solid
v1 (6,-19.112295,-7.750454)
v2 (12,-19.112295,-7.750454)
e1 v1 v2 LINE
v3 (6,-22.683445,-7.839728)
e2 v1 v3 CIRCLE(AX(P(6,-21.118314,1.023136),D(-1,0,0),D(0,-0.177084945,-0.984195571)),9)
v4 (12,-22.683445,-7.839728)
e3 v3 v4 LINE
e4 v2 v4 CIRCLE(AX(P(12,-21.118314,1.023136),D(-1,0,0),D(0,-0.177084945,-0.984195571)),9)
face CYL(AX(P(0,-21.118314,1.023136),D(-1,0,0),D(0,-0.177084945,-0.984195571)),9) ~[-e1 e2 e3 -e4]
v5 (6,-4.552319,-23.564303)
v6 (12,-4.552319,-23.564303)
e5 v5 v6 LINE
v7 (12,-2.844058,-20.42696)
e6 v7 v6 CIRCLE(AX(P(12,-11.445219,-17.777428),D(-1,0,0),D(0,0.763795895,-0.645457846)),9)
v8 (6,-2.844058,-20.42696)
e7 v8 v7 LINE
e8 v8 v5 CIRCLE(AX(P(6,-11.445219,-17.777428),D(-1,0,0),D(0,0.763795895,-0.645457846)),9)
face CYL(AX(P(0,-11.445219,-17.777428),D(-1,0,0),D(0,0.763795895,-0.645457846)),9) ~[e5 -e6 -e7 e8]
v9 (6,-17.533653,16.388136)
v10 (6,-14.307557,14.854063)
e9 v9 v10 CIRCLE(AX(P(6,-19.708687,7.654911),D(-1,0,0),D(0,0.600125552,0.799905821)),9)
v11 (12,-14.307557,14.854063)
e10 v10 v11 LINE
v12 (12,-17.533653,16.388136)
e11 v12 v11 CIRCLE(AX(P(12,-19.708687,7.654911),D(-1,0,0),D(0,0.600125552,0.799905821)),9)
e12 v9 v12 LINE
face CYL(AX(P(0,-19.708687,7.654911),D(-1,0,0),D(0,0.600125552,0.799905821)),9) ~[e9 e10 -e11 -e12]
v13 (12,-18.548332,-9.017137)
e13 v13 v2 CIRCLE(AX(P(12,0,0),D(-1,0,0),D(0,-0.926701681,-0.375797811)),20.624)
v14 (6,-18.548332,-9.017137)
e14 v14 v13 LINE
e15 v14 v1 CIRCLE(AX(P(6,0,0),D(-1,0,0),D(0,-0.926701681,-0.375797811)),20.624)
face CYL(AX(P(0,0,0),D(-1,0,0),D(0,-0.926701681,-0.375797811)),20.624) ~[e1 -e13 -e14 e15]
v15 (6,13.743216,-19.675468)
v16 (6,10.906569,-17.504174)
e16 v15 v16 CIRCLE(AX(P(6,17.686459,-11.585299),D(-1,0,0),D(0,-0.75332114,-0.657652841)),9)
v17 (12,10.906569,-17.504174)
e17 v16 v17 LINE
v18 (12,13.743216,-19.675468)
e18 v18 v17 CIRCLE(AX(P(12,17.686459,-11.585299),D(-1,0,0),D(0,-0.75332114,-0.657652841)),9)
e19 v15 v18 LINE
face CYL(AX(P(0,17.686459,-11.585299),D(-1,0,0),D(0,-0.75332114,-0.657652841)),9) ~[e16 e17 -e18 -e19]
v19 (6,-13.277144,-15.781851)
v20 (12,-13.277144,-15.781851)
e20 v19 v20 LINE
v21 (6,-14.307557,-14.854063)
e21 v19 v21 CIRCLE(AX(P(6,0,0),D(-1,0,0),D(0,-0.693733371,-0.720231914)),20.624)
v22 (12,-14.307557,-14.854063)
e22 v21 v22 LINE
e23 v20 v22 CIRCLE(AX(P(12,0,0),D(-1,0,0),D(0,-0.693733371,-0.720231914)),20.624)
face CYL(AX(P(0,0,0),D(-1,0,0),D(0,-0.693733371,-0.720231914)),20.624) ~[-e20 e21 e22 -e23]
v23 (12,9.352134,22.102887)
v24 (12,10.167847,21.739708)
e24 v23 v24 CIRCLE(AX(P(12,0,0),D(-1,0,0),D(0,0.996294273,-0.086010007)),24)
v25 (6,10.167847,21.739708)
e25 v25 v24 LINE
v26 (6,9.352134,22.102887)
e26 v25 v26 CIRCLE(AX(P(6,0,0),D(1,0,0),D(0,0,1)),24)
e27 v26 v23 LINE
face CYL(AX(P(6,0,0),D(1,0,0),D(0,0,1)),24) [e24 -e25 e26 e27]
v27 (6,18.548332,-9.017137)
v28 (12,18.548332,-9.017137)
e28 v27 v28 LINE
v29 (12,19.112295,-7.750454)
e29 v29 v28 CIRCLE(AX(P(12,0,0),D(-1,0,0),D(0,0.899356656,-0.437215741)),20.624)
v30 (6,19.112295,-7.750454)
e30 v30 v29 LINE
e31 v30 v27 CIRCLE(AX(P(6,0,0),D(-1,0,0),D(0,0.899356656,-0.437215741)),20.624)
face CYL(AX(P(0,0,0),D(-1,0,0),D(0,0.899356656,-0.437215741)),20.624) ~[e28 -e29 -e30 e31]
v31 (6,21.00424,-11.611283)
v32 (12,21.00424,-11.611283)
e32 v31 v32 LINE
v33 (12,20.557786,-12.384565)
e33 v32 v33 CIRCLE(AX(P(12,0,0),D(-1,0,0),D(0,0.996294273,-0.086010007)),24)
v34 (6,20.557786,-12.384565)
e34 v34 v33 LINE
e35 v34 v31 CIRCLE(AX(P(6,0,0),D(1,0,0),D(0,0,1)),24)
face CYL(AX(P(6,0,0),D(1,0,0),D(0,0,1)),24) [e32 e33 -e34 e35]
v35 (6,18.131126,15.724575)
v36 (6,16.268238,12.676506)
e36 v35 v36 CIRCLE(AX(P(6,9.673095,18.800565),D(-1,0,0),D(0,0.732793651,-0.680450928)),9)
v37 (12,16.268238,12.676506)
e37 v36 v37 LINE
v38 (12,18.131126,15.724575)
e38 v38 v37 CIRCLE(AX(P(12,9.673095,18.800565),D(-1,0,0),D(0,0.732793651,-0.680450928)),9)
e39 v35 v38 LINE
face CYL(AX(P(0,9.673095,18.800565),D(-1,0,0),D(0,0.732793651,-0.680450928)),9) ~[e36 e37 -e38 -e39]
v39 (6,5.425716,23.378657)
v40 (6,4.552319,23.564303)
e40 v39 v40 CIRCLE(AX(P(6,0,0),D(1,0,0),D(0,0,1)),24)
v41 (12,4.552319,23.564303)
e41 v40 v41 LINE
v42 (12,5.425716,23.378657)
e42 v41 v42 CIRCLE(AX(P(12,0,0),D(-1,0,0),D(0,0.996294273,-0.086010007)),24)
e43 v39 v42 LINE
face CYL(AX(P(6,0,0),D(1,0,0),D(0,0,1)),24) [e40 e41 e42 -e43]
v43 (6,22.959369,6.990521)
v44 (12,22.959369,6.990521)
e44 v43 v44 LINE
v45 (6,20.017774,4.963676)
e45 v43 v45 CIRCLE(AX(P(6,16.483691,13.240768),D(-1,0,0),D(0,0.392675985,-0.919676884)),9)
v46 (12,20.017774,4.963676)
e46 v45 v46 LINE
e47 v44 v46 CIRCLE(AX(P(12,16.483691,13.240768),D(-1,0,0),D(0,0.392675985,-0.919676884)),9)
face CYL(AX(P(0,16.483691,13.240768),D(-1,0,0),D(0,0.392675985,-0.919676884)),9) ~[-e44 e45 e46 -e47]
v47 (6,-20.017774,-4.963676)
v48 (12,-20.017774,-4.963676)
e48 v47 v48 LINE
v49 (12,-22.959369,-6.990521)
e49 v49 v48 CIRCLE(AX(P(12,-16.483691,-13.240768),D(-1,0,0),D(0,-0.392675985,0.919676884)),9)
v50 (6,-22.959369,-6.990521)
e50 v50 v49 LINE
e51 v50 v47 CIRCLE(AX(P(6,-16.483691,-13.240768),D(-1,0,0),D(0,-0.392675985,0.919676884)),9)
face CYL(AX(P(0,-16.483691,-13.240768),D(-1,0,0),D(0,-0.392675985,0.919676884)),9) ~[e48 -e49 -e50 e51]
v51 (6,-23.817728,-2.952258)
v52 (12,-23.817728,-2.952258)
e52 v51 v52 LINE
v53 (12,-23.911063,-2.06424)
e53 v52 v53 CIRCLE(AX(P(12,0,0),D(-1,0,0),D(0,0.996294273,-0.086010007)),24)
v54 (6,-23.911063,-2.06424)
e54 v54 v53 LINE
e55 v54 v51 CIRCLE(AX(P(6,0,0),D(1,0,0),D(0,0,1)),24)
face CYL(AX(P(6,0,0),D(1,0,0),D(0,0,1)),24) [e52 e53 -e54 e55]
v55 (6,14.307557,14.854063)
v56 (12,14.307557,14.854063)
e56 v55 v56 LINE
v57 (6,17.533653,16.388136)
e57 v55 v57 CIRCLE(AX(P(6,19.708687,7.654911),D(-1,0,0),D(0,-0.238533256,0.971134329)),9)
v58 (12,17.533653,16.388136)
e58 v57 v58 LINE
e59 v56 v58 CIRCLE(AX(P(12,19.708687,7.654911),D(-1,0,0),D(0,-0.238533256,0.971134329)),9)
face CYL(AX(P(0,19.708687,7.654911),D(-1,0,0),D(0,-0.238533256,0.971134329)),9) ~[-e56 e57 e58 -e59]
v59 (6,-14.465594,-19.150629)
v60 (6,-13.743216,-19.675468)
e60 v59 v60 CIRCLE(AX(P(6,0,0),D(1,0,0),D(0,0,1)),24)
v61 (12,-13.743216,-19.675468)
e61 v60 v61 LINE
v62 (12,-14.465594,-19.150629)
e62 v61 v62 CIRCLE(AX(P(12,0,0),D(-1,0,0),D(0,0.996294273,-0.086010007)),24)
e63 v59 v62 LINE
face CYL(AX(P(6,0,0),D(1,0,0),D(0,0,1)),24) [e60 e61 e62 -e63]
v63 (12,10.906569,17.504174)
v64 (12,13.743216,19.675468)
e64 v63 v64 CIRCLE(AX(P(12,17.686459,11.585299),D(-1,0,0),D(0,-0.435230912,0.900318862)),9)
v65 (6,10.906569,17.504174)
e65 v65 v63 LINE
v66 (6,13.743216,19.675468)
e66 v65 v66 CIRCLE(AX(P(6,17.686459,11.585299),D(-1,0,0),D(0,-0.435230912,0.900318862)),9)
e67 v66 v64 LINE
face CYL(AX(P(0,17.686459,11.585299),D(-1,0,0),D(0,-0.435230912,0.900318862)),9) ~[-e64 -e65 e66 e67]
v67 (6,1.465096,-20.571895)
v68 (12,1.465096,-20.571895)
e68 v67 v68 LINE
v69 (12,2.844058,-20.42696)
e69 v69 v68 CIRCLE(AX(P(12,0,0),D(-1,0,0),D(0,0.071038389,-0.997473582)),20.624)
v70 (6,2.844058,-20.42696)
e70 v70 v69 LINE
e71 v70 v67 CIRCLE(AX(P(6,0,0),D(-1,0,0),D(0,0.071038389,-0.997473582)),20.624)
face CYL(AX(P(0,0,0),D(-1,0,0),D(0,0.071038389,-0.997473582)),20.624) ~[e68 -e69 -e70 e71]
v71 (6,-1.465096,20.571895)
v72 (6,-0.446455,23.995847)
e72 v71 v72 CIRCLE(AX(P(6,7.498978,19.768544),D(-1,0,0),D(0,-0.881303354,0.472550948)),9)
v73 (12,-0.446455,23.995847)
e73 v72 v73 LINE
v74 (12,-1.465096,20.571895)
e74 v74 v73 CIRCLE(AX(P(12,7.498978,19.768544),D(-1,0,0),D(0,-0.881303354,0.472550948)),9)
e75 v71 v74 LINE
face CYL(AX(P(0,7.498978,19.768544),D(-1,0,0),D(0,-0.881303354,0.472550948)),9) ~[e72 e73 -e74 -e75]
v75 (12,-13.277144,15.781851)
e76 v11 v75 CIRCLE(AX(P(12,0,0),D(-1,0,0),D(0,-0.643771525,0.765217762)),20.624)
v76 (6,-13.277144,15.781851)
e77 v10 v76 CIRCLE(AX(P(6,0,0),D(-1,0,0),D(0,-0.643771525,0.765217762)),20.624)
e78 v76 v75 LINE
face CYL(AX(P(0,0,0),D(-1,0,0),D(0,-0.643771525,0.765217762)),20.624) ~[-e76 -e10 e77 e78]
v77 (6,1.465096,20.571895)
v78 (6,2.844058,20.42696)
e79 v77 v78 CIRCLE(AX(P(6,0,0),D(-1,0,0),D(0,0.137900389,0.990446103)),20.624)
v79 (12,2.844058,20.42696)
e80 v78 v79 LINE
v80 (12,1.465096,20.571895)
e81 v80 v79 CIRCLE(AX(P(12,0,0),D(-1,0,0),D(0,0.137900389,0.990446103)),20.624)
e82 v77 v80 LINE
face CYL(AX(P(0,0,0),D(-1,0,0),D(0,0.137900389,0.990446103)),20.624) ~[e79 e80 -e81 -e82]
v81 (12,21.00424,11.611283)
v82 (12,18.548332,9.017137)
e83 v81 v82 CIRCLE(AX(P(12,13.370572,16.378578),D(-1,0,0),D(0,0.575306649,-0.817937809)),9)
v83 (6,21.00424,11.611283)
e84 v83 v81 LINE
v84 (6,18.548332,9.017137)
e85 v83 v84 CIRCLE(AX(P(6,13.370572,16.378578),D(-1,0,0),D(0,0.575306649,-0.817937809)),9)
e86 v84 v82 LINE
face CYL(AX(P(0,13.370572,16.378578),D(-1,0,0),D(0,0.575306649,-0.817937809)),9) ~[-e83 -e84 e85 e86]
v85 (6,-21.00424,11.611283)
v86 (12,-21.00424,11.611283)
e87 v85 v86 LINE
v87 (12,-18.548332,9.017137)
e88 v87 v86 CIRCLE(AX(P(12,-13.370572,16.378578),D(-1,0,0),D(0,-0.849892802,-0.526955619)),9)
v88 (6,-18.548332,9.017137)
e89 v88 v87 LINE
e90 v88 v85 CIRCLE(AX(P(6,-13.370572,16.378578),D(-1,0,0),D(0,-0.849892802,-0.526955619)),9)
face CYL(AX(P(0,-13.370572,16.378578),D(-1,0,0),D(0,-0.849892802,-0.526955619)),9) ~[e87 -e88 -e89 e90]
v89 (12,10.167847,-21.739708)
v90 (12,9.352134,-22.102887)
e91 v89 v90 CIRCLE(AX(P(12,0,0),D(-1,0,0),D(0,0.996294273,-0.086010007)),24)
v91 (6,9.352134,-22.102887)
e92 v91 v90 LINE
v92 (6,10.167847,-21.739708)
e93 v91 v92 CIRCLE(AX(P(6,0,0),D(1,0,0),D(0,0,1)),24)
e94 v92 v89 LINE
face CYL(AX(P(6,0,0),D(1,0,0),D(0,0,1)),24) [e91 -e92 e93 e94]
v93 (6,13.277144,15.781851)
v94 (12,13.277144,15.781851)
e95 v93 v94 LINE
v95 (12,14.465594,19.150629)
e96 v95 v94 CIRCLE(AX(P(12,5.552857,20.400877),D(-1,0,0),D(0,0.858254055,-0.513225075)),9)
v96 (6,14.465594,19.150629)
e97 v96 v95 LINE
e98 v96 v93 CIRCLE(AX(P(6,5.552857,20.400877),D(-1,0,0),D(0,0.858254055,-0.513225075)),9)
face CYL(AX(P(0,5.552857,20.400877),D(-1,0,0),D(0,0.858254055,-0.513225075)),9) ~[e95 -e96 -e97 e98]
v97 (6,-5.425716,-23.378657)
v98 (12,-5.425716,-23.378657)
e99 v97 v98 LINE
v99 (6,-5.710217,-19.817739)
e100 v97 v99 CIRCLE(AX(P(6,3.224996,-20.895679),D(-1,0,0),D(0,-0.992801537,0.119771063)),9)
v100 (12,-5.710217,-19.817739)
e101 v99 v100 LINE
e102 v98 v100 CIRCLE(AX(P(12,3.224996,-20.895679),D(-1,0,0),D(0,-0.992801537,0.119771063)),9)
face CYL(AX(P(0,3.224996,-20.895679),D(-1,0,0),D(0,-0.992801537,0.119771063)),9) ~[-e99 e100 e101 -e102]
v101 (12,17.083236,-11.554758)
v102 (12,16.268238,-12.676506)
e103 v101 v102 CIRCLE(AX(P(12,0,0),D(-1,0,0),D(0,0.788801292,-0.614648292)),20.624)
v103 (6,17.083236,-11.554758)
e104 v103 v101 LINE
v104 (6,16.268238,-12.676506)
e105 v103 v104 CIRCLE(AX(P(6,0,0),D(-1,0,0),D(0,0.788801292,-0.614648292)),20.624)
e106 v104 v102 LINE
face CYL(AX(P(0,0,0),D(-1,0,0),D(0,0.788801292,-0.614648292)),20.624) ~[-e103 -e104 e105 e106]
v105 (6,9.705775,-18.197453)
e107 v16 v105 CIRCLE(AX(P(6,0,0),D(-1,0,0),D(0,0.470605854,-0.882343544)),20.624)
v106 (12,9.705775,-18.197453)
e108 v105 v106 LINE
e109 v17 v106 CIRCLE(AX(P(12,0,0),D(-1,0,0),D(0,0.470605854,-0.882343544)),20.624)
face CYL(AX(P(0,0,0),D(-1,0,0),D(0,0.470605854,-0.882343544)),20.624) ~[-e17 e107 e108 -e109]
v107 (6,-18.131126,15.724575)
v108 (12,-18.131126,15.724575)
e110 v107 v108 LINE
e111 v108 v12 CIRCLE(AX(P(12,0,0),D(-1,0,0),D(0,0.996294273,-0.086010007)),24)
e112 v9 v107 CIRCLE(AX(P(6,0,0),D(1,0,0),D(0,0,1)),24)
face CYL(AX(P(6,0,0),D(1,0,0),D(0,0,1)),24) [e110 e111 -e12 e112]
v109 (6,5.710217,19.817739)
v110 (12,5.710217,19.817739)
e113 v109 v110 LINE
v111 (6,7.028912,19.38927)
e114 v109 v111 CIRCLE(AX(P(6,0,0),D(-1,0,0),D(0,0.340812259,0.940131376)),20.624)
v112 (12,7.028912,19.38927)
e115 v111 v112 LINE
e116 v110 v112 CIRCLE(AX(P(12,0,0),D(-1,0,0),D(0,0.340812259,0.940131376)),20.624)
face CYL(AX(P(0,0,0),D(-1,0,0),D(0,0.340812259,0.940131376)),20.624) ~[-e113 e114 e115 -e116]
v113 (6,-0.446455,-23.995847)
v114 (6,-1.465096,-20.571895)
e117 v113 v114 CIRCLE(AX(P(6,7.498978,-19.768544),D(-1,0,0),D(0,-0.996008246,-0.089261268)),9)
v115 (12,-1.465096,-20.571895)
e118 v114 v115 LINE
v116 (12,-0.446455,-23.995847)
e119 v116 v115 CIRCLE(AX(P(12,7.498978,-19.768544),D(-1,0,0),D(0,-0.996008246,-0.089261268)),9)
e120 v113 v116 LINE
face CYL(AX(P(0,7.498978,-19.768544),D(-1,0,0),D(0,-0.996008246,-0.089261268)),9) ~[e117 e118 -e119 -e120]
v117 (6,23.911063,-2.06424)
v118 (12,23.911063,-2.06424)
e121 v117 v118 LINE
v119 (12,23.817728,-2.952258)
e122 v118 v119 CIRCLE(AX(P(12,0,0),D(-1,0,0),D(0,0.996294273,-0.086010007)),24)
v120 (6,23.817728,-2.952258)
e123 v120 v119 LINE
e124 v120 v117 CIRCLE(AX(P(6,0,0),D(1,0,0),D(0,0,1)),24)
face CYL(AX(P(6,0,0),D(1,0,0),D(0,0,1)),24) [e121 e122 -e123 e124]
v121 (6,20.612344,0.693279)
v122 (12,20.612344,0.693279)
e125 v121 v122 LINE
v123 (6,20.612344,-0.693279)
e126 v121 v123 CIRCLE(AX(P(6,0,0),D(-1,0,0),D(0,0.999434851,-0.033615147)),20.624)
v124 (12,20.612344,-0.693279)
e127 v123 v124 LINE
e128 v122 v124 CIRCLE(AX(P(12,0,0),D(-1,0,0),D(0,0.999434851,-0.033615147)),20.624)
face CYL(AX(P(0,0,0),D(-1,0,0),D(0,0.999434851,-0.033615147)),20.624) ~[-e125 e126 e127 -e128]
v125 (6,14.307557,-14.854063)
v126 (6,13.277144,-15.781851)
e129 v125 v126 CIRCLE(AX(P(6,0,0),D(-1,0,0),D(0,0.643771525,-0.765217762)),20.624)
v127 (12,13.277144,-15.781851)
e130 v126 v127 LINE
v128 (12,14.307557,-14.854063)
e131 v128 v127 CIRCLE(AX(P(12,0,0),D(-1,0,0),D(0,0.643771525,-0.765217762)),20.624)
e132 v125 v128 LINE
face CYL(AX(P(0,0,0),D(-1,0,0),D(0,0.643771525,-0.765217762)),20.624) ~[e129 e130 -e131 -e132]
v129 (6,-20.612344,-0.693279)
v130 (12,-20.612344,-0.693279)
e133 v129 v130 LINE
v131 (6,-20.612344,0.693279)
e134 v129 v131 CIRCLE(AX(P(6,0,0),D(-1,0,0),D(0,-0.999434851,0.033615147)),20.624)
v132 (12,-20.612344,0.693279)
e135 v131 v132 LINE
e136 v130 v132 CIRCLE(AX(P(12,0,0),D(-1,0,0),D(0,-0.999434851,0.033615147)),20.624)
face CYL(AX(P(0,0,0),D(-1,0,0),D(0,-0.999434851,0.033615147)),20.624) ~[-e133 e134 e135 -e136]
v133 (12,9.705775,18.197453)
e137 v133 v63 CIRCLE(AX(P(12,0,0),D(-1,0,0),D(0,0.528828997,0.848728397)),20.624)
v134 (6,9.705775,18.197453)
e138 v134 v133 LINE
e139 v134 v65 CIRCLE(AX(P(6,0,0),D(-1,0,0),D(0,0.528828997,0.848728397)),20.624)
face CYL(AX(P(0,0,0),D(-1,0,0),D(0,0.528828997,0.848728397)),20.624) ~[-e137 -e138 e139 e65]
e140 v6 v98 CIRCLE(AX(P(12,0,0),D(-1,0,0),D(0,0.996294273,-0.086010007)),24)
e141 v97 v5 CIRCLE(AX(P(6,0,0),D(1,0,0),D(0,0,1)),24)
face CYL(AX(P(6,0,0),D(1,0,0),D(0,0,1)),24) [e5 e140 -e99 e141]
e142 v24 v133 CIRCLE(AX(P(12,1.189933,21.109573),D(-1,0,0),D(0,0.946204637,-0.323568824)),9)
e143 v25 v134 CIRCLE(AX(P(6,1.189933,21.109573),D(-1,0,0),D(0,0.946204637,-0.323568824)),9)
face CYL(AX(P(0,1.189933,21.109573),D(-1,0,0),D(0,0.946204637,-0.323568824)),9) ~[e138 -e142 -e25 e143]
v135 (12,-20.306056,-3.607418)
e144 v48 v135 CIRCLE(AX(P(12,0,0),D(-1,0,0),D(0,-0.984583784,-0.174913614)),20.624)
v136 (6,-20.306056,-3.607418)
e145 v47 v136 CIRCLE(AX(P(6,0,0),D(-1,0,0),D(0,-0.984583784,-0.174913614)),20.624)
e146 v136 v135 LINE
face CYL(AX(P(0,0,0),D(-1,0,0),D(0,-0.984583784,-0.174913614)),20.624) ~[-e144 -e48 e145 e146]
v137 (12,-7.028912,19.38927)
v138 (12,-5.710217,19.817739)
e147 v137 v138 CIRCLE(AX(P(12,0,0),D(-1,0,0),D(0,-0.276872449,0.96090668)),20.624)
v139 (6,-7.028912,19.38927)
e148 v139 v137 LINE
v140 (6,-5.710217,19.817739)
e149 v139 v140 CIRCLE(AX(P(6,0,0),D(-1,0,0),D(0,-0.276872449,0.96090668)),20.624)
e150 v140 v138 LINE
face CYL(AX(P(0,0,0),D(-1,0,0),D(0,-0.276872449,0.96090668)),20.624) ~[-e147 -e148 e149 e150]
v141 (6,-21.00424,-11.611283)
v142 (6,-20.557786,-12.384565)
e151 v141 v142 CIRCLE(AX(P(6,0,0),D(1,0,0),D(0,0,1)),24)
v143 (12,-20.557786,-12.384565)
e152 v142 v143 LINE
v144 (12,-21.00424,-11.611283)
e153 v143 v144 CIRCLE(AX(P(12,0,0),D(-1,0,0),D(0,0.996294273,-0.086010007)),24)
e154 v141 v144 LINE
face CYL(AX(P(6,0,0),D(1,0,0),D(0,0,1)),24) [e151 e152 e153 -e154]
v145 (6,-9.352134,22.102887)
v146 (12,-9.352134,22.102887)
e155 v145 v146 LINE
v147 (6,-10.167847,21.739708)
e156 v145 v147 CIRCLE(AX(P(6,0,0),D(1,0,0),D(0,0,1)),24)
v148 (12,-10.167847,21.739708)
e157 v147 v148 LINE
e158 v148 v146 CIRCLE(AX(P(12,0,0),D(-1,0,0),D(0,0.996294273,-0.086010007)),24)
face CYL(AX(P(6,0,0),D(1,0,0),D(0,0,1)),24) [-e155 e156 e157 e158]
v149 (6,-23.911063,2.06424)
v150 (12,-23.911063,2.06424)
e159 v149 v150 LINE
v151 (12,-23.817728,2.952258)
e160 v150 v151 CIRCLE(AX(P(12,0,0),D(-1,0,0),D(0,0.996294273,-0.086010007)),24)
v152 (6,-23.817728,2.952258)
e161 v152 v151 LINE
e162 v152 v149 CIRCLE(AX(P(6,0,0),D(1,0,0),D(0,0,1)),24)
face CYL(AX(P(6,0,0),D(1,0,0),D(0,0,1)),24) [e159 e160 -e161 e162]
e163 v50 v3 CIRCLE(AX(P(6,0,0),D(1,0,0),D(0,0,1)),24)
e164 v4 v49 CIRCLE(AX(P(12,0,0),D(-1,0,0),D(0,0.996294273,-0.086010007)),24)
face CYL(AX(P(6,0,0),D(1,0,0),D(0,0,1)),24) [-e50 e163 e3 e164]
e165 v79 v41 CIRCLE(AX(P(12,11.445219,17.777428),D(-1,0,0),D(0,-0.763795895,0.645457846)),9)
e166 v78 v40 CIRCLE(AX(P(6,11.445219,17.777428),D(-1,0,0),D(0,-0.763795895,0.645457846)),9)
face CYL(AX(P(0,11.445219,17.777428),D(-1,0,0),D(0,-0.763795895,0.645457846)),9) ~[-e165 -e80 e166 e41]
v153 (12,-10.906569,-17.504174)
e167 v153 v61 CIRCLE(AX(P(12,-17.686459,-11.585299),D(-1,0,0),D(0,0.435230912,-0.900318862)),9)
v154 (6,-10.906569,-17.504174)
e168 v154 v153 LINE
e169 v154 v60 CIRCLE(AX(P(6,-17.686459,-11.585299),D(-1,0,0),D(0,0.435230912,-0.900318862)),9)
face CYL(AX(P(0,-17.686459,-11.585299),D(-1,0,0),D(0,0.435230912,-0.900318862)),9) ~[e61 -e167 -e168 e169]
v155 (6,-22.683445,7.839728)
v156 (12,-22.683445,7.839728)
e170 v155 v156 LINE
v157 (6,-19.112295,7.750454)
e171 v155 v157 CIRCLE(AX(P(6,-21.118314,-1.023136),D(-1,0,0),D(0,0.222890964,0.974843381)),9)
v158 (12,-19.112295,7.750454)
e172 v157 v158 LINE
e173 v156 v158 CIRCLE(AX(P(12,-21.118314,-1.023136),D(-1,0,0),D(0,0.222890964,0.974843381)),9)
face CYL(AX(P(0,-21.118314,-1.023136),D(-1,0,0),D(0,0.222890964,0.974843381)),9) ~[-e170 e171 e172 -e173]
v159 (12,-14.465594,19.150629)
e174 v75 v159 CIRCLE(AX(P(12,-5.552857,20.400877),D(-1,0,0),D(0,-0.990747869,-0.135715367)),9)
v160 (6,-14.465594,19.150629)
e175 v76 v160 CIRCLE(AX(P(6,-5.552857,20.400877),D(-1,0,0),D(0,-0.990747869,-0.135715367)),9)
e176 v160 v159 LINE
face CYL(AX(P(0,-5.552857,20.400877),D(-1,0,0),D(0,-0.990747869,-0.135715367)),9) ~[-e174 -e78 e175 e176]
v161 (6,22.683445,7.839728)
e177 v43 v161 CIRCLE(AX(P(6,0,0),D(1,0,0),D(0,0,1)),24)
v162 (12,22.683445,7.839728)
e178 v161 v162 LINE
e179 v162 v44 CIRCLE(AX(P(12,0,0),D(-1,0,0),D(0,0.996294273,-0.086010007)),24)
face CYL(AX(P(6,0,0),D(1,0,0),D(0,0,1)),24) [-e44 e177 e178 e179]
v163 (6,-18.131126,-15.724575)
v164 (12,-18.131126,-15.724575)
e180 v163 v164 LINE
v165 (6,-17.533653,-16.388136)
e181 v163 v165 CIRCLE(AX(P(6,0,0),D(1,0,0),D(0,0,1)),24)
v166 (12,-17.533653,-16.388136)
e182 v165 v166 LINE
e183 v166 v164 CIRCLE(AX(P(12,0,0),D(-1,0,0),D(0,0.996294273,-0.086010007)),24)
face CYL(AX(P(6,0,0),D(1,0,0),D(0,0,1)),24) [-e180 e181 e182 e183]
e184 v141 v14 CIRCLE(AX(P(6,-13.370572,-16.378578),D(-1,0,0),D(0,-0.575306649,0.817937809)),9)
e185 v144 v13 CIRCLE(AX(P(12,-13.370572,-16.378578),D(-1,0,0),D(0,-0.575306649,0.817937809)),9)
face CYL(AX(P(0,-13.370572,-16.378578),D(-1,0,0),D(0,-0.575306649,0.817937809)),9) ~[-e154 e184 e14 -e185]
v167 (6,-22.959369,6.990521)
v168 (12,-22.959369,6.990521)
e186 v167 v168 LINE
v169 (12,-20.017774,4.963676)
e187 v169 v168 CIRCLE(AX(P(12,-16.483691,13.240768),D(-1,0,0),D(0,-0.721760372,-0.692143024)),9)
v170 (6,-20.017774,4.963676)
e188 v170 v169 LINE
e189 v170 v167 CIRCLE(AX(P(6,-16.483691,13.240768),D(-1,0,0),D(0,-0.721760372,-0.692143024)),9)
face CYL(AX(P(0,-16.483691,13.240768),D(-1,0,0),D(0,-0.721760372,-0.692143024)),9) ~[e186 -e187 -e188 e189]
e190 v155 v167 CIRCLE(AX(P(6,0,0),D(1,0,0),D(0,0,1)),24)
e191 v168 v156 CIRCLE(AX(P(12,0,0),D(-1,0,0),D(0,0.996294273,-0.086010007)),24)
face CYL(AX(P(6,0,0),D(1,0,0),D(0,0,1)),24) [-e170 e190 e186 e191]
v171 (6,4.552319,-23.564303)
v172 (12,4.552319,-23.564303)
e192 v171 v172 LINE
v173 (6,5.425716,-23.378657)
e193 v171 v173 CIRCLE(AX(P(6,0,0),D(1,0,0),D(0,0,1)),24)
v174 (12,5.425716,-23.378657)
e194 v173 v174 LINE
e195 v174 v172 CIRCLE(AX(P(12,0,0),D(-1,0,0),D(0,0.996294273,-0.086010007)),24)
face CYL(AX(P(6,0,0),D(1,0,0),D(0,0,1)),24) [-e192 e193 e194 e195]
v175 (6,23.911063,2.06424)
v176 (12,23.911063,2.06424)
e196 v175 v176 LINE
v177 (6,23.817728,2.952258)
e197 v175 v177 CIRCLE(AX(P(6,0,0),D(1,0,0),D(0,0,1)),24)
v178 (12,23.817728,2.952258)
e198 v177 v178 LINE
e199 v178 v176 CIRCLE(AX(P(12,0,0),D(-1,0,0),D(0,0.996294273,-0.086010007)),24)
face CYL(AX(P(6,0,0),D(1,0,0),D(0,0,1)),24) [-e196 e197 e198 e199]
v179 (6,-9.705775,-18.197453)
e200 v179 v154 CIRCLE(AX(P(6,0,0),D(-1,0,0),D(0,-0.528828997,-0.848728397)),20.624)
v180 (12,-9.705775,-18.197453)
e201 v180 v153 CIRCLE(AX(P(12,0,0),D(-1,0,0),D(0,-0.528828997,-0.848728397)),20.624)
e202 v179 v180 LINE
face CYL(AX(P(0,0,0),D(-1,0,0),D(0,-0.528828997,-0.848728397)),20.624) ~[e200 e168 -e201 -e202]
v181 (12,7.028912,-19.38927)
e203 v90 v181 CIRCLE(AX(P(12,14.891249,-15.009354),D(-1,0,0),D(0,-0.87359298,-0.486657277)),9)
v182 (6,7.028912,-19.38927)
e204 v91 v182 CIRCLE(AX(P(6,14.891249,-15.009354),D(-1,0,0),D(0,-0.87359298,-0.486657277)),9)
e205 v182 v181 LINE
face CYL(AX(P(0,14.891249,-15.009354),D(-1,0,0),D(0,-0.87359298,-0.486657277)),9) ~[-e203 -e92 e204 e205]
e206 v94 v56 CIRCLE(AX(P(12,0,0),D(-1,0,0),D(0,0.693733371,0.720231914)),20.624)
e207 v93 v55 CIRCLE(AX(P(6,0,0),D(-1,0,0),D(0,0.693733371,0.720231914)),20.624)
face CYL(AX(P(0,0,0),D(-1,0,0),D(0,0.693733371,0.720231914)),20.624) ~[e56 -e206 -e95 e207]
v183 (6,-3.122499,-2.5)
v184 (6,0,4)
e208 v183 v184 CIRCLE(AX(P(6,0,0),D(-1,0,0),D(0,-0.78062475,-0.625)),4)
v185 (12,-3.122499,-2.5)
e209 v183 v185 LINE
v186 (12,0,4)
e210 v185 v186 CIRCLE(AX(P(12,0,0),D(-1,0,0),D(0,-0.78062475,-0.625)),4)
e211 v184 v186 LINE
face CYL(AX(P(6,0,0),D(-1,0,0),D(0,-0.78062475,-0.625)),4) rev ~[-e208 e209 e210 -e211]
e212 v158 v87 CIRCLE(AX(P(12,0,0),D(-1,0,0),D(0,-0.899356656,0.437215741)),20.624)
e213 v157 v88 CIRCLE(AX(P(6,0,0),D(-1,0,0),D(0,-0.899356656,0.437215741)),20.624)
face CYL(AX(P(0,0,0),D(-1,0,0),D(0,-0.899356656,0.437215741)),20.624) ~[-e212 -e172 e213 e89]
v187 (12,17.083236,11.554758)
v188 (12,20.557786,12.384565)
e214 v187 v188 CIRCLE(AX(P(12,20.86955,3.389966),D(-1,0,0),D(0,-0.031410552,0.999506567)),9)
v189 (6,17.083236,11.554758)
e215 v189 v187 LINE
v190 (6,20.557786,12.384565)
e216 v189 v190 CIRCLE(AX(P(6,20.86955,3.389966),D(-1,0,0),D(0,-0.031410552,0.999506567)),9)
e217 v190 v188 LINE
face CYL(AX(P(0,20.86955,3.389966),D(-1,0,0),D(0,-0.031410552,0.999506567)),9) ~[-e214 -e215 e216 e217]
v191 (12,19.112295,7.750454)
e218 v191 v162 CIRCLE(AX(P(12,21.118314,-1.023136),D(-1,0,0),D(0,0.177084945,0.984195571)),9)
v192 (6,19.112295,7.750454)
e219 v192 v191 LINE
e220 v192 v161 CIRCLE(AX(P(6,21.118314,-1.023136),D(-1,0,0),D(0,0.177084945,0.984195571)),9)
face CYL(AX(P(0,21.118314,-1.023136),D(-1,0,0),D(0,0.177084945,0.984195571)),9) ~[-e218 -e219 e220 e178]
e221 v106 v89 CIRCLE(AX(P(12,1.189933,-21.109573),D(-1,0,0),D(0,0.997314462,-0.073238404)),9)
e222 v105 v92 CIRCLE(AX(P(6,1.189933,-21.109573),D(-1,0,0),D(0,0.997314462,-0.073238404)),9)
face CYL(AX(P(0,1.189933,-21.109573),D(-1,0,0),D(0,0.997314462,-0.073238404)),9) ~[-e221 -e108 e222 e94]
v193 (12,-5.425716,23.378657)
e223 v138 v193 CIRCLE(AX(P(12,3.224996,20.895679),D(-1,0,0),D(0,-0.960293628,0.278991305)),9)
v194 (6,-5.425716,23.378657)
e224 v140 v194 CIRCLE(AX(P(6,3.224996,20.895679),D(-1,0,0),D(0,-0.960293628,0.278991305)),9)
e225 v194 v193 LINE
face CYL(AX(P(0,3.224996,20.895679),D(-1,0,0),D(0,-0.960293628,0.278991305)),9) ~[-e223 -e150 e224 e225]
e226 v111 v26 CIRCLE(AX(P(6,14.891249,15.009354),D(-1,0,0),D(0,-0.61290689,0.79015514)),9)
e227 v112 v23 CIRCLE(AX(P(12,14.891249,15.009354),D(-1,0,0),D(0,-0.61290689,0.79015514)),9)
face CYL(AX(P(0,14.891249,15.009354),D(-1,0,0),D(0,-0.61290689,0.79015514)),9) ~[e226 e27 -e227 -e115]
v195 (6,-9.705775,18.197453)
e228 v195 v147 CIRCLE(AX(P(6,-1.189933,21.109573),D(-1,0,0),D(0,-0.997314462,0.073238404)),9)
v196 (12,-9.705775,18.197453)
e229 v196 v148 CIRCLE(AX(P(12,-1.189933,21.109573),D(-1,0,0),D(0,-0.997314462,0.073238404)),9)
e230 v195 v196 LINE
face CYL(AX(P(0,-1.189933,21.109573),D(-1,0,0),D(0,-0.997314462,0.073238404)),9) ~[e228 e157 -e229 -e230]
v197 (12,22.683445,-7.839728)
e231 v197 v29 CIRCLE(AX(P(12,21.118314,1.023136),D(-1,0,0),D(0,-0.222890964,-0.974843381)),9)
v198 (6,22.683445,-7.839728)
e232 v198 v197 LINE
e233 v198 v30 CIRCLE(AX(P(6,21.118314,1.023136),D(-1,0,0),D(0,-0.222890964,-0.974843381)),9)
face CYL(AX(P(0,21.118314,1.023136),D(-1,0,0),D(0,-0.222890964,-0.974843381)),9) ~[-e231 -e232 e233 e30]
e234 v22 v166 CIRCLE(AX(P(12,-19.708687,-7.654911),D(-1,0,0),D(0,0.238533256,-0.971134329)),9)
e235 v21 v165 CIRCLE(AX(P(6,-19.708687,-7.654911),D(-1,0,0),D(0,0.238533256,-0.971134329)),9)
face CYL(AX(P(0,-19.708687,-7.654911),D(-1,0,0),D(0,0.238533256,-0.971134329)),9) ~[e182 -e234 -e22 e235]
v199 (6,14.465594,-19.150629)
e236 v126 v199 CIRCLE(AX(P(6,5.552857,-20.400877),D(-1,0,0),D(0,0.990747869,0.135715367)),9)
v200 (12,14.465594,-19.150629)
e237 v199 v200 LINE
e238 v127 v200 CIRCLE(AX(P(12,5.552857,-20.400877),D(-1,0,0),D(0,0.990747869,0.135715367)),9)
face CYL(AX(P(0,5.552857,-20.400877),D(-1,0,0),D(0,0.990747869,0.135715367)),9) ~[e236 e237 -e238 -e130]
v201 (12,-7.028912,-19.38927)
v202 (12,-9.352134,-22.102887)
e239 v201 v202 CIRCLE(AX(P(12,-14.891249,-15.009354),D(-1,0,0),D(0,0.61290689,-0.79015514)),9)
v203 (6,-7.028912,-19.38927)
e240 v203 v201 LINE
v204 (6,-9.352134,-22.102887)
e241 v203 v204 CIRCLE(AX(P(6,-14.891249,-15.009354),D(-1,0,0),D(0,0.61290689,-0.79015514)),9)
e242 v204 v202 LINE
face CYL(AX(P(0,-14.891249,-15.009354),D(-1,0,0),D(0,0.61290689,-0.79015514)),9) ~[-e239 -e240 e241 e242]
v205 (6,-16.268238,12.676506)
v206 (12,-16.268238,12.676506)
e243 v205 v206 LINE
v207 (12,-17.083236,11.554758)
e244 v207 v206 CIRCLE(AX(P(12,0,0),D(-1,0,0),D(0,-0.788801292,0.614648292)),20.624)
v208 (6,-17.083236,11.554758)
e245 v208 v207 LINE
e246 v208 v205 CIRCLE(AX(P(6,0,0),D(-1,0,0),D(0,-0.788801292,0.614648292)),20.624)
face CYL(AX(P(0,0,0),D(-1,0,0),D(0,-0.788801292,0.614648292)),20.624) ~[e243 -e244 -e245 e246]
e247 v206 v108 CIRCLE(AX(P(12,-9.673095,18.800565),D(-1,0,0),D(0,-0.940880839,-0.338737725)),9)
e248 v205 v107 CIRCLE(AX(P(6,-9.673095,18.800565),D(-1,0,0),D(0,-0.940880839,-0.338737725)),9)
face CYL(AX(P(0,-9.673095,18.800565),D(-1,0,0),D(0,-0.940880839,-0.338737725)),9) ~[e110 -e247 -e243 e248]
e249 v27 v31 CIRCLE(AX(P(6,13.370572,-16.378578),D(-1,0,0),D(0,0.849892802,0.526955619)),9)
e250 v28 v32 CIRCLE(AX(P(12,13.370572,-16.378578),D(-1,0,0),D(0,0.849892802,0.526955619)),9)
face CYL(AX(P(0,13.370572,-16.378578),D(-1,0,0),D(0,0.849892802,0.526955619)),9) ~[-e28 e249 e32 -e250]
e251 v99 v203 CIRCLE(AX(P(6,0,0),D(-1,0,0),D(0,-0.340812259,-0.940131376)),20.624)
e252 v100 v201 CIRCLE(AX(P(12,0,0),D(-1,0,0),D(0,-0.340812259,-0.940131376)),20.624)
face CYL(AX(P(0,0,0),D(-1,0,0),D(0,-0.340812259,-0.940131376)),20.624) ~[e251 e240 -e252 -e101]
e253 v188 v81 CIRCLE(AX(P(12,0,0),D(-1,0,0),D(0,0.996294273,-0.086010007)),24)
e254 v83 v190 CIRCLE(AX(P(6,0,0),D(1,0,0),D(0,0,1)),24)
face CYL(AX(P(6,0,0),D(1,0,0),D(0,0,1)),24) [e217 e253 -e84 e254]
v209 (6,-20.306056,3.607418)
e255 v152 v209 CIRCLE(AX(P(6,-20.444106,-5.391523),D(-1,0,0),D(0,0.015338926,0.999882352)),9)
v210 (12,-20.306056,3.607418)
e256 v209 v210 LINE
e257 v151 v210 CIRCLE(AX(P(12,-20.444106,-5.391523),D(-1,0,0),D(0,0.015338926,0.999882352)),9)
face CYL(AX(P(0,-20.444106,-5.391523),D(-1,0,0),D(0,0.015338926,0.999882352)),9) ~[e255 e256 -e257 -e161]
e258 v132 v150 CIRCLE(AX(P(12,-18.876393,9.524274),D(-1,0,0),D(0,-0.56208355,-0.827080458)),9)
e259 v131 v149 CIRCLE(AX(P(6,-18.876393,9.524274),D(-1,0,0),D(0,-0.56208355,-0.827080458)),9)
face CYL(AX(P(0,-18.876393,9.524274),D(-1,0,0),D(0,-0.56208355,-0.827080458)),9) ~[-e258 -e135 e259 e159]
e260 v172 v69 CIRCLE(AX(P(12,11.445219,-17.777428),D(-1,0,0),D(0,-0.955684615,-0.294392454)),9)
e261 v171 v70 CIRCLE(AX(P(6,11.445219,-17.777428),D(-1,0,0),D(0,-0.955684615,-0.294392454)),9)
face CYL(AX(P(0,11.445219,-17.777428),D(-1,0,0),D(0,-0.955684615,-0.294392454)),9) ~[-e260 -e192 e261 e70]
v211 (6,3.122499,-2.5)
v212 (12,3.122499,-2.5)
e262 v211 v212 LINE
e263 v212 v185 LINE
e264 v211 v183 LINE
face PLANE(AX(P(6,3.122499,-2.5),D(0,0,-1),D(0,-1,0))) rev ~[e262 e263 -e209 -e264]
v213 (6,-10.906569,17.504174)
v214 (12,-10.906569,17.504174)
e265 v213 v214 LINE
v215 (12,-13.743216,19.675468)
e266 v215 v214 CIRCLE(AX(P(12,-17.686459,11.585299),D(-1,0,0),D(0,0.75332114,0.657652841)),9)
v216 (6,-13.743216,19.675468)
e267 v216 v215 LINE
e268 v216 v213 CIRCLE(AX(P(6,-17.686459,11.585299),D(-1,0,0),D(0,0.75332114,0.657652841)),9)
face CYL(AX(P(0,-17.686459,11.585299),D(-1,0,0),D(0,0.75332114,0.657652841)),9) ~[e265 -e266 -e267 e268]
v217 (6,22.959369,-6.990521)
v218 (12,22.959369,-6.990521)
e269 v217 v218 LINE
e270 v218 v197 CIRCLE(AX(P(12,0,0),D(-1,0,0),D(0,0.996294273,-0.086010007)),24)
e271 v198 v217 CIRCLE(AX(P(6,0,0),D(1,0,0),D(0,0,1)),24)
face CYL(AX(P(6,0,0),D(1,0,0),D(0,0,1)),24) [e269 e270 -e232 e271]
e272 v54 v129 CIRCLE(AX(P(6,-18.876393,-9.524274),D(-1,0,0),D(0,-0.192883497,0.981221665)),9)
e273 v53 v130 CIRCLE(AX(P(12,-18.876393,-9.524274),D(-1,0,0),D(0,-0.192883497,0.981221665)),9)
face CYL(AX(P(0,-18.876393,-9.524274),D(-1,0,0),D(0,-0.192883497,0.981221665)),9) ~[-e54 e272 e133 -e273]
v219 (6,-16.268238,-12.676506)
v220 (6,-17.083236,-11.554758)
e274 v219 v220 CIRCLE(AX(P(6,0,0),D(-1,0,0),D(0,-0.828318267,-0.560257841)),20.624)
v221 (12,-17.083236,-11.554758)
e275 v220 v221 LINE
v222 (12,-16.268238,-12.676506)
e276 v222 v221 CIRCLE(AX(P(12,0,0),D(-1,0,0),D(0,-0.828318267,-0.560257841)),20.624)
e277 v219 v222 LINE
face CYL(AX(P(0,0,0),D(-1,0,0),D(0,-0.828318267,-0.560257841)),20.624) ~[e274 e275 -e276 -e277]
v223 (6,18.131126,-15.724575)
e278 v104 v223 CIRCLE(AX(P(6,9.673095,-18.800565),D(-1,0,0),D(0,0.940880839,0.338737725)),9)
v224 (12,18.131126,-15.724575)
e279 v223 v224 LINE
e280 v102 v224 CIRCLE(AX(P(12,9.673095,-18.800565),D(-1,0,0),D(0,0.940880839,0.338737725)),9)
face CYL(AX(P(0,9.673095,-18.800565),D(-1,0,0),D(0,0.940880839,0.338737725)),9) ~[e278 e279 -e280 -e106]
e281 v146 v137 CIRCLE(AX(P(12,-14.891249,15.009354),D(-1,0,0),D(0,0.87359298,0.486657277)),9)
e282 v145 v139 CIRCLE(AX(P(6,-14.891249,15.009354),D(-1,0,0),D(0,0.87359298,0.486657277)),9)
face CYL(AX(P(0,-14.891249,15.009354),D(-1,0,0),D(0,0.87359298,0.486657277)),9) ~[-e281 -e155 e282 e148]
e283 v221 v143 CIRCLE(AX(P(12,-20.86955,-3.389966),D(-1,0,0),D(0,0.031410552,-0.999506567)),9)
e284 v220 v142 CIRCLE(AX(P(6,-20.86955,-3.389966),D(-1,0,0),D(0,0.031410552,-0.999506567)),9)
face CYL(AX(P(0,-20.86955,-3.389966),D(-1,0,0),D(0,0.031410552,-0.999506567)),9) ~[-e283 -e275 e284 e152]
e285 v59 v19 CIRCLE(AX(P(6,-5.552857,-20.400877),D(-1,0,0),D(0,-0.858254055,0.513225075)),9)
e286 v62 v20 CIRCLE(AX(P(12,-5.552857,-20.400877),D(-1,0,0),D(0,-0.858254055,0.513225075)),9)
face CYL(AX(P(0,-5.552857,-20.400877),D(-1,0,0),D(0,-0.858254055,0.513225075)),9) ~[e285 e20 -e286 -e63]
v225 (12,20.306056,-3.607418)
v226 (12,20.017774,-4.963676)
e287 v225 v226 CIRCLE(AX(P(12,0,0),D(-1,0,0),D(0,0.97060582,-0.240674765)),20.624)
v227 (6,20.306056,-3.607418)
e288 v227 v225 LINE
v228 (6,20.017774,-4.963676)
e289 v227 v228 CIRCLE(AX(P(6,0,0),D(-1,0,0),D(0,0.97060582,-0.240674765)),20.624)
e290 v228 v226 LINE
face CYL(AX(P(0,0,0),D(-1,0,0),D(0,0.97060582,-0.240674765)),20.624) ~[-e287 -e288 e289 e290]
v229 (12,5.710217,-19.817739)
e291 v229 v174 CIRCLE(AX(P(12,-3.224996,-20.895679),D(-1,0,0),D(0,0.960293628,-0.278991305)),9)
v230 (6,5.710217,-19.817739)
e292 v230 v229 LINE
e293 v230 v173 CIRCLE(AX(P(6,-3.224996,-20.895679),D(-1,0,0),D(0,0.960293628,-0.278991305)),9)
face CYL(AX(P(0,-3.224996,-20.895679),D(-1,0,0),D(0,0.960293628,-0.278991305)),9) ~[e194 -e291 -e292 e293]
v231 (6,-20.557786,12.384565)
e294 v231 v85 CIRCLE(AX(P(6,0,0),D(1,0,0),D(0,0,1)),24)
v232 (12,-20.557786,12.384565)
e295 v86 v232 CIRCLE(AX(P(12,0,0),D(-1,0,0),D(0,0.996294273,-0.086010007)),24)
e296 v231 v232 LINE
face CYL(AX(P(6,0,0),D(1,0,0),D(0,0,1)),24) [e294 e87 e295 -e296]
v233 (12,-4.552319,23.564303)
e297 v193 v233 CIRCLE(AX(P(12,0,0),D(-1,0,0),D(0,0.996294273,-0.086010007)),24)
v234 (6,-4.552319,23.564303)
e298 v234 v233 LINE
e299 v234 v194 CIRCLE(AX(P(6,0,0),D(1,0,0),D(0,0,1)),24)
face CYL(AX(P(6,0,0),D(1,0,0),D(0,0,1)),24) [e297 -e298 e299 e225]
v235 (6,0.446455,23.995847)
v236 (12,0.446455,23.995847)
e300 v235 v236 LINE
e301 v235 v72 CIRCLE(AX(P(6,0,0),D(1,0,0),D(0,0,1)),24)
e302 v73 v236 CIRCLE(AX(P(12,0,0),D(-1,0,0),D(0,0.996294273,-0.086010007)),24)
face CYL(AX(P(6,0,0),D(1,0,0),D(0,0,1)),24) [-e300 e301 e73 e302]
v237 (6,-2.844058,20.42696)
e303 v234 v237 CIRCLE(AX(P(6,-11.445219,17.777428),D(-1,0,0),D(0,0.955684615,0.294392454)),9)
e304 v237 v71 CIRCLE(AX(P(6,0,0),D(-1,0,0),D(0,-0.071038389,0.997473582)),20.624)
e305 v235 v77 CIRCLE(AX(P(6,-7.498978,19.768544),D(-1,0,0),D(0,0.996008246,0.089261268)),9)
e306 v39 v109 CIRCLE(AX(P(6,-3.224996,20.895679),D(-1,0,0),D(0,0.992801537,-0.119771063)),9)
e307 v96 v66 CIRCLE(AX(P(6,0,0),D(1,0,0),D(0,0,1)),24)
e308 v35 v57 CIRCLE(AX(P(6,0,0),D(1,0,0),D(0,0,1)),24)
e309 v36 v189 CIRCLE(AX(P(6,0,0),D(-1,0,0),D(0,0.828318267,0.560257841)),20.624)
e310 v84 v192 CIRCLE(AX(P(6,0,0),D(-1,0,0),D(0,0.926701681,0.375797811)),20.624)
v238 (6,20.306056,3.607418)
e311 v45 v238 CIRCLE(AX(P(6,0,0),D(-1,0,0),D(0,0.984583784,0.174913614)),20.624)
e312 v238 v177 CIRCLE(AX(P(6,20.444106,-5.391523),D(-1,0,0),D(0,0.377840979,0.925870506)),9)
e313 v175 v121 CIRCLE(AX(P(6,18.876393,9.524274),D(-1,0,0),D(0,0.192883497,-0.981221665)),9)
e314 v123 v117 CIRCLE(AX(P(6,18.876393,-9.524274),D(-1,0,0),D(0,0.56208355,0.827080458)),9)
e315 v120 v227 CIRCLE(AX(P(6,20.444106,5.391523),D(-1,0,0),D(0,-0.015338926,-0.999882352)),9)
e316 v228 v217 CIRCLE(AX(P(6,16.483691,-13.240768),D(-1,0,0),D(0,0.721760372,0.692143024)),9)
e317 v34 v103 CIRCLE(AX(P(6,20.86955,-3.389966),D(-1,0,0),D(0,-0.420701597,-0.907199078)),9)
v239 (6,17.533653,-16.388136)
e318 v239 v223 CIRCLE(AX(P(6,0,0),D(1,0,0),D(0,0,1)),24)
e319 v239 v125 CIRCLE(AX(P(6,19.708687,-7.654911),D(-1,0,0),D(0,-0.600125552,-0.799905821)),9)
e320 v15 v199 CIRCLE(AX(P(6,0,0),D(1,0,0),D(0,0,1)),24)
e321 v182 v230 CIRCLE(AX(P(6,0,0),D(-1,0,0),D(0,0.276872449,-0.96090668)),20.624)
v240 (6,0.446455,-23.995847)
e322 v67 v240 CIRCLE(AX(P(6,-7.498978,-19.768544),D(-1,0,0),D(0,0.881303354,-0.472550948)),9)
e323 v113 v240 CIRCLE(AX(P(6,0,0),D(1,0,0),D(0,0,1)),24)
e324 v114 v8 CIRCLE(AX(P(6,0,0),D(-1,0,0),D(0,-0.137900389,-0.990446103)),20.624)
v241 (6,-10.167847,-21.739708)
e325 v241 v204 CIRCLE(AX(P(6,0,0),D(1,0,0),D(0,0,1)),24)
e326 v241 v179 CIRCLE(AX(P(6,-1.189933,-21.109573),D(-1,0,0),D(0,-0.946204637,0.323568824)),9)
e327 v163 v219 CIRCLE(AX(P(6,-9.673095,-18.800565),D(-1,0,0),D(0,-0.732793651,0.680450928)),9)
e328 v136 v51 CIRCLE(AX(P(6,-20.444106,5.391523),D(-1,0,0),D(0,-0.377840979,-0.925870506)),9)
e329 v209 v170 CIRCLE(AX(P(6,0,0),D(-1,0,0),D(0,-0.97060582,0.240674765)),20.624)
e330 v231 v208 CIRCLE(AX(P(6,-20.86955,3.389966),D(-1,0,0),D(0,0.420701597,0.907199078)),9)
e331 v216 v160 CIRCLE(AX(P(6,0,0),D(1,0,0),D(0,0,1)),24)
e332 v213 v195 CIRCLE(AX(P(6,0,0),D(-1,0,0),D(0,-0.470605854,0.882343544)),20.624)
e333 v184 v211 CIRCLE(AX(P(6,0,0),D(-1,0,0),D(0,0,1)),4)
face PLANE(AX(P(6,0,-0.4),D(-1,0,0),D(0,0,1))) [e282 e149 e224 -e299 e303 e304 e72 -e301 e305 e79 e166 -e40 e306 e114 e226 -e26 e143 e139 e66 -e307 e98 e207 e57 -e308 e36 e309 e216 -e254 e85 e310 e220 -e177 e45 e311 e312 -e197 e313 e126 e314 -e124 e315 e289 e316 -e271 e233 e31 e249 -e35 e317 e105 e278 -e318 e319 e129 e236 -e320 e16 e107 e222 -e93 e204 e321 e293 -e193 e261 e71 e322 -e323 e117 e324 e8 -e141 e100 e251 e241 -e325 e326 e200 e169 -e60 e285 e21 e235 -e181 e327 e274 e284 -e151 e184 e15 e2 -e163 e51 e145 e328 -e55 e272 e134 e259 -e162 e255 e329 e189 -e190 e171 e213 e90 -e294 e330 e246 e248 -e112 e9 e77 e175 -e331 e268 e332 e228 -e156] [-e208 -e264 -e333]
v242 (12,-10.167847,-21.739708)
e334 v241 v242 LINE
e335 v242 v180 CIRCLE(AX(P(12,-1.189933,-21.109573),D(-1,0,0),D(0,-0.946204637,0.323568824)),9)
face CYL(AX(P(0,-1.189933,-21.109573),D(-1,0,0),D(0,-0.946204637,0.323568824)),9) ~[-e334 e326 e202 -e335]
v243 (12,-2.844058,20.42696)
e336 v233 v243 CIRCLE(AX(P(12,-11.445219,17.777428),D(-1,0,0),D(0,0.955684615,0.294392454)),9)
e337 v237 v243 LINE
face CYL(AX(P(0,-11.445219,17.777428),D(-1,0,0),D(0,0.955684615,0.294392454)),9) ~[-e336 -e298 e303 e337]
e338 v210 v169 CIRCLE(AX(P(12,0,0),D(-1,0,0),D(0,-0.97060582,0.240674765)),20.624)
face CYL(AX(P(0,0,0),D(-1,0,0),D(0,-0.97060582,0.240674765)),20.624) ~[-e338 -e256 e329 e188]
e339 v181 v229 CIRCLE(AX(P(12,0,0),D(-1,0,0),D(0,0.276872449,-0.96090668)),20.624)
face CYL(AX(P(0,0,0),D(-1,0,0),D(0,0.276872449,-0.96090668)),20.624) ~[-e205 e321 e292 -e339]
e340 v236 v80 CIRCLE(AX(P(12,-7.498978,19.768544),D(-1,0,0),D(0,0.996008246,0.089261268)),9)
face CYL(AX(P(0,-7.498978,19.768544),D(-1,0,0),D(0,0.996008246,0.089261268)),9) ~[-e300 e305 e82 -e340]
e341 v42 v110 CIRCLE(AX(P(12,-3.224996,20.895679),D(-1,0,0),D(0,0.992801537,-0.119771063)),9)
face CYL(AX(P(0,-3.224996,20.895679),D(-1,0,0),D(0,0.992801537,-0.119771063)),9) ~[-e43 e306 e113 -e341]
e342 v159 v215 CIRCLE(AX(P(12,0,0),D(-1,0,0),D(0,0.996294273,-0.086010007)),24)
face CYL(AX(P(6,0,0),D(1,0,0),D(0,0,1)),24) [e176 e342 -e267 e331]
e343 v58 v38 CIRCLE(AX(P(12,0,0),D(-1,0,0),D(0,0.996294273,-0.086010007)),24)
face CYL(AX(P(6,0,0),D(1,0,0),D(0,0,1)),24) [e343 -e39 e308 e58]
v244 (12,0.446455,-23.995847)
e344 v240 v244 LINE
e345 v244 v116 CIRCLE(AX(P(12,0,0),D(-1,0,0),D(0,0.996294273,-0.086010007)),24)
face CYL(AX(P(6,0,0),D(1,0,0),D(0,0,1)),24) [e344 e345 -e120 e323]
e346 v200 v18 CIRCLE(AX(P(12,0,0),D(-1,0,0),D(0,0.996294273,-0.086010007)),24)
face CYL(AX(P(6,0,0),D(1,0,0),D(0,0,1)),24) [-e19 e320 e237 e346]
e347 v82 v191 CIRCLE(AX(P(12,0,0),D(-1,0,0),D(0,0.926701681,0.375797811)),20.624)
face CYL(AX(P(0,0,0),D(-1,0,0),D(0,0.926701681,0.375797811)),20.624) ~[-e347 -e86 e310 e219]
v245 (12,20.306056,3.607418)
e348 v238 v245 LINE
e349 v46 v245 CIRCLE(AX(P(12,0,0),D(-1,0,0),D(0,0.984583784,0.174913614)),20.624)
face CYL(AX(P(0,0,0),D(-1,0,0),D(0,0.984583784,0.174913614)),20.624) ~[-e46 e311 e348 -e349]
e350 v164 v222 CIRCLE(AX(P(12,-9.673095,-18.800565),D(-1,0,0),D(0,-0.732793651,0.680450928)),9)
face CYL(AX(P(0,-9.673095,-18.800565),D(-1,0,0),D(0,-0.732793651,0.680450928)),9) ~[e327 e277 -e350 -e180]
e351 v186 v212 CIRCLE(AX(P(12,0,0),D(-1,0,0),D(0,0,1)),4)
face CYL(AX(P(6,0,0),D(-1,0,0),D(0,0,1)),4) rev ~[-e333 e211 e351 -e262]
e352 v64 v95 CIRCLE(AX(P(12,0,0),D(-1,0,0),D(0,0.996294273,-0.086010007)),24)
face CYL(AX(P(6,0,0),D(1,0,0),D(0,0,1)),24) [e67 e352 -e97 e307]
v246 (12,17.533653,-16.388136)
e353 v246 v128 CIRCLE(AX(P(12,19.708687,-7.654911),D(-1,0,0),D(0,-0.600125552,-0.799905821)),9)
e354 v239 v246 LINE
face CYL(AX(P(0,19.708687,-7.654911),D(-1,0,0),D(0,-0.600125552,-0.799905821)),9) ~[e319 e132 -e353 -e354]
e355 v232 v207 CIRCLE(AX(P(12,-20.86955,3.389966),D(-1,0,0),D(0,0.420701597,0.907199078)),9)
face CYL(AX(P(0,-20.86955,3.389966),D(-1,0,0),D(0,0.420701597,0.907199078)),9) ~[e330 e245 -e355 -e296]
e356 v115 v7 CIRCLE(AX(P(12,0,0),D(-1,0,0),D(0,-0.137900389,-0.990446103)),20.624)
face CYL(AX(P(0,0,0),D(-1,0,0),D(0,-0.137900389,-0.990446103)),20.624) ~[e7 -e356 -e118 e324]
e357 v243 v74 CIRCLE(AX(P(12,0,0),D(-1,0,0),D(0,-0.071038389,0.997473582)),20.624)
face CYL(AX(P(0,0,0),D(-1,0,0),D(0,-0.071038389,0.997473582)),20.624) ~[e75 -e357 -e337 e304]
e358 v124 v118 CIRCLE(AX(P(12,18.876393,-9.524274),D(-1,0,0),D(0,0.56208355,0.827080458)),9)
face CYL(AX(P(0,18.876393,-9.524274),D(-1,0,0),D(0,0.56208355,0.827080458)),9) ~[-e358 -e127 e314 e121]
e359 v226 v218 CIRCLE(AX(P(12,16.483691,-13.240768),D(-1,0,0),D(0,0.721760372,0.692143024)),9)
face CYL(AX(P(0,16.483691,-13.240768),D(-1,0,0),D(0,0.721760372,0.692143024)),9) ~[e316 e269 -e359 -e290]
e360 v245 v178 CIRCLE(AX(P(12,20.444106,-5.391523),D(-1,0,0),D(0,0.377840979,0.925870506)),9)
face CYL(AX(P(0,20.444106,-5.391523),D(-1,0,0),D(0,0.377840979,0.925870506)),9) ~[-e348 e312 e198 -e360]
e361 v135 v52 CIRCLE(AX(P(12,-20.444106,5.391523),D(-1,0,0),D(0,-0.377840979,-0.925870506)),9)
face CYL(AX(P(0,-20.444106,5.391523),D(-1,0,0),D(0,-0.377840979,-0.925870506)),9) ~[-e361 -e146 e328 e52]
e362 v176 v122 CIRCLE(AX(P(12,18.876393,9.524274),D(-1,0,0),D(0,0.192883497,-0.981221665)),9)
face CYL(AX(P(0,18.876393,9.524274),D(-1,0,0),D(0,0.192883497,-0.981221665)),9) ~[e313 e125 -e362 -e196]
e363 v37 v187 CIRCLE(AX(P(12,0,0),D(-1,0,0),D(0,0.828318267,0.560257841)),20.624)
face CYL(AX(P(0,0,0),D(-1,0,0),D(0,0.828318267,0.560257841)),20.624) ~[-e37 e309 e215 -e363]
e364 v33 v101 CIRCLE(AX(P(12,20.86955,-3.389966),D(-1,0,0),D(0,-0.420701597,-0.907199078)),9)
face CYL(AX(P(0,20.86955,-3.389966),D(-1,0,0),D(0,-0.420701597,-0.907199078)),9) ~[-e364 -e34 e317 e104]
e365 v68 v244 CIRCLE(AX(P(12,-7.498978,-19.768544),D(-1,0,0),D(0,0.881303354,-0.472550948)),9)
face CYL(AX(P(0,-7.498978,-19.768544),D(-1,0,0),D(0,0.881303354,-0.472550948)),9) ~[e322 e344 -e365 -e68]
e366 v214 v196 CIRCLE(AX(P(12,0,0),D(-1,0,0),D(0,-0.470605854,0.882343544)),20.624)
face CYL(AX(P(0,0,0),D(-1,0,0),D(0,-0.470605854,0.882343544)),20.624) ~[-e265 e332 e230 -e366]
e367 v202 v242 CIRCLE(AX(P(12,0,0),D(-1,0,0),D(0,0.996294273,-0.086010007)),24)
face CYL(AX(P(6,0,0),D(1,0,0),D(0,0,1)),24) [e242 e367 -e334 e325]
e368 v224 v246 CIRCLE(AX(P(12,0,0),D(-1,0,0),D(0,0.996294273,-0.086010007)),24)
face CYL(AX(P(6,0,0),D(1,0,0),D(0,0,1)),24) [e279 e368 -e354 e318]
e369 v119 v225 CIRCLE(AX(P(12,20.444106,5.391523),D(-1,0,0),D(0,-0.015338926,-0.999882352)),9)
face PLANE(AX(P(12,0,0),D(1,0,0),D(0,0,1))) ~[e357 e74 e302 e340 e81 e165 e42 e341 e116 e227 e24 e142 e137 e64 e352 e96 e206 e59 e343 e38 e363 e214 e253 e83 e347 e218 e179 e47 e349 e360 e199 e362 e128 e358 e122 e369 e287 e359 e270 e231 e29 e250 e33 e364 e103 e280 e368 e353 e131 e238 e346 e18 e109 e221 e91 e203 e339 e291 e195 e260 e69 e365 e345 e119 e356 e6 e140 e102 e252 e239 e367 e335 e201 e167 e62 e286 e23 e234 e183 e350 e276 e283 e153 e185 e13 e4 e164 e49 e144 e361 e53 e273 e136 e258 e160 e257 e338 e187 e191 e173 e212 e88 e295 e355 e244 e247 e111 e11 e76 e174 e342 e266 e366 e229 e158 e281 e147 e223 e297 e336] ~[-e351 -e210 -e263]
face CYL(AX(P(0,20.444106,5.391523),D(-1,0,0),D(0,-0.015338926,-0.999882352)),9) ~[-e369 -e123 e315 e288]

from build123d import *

# Parameters (mm, degrees)
BASPROSKE_W        = 12
BASPROSKE_H        = 24
TOOTHCUT_DEPTH     = 37
TEETHCUTS_COUNT    = 30
TEETHCUTS_ANGLE    = 348
BORSKE_R           = 0.4
BORE_DEPTH         = 50.0000508
SKETCH1_R          = 33.841637192
CUT_EXTRUDE1_DEPTH = 6
CUT_EXTRUDE2_DEPTH = 6


with BuildPart() as part:
    # BasProSke → Base-Revolve (revolve)
    with BuildSketch(Plane(origin=(0, 0, 0), x_dir=(1, 0, 0), z_dir=(0, 1, 0)), mode=Mode.PRIVATE) as base_revolve_sk:
        with Locations((6, 12)):
            Rectangle(BASPROSKE_W, BASPROSKE_H)
    revolve(base_revolve_sk.sketch.rotate(Axis((-10, 0, 0), (1, 0, 0)), 180), axis=Axis((-10, 0, 0), (1, 0, 0)))

    # TooCutSke → ToothCut (cut, through all)
    with BuildSketch(Plane(origin=(0, 0, 0), x_dir=(0, 0, -1), z_dir=(1, 0, 0))):
        with BuildLine():
            ThreePointArc((0.693278797, 20.612344372), (0, 20.624), (-0.693278797, 20.612344372))
            ThreePointArc((-0.693278797, 20.612344372), (-1.219042225, 22.34383125), (-2.080549663, 23.935144835))
            ThreePointArc((-2.080549663, 23.935144835), (0, 24.0254), (2.080549663, 23.935144835))
            ThreePointArc((2.080549663, 23.935144835), (1.219042225, 22.34383125), (0.693278797, 20.612344372))
        make_face()
    toothcut = extrude(amount=TOOTHCUT_DEPTH, mode=Mode.SUBTRACT)

    # TeethCuts: ToothCut ×30 about axis
    teethcuts_axis = Axis((-10, 0, 0), (1, 0, 0))
    for i in range(1, TEETHCUTS_COUNT):
        add(toothcut.rotate(teethcuts_axis, i * TEETHCUTS_ANGLE / (TEETHCUTS_COUNT - 1)), mode=Mode.SUBTRACT)

    # BorSke → Bore (cut, symmetric)
    with BuildSketch(Plane(origin=(0, 0, 0), x_dir=(0, 0, -1), z_dir=(1, 0, 0))):
        with Locations(Location((0, 0, 0), (0, 0, 180))):
            Circle(BORSKE_R)
    extrude(amount=BORE_DEPTH, both=True, mode=Mode.SUBTRACT)

    # Sketch1 → Cut-Extrude1 (cut)
    with BuildSketch(Plane.ZY):
        with Locations((-0.4, 0)):
            Circle(SKETCH1_R)
    extrude(amount=-CUT_EXTRUDE1_DEPTH, mode=Mode.SUBTRACT)

    # Sketch2 → Cut-Extrude2 (cut)
    with BuildSketch(Plane.ZY.offset(-6)):
        with BuildLine():
            ThreePointArc((4, 0), (1.732050808, 3.605551275), (-2.5, 3.122498999))
            Line((-2.5, 3.122498999), (-2.5, -3.122498999))
            ThreePointArc((-2.5, -3.122498999), (1.732050808, -3.605551275), (4, 0))
        make_face()
    extrude(amount=-CUT_EXTRUDE2_DEPTH, mode=Mode.SUBTRACT)


solid = part.part
